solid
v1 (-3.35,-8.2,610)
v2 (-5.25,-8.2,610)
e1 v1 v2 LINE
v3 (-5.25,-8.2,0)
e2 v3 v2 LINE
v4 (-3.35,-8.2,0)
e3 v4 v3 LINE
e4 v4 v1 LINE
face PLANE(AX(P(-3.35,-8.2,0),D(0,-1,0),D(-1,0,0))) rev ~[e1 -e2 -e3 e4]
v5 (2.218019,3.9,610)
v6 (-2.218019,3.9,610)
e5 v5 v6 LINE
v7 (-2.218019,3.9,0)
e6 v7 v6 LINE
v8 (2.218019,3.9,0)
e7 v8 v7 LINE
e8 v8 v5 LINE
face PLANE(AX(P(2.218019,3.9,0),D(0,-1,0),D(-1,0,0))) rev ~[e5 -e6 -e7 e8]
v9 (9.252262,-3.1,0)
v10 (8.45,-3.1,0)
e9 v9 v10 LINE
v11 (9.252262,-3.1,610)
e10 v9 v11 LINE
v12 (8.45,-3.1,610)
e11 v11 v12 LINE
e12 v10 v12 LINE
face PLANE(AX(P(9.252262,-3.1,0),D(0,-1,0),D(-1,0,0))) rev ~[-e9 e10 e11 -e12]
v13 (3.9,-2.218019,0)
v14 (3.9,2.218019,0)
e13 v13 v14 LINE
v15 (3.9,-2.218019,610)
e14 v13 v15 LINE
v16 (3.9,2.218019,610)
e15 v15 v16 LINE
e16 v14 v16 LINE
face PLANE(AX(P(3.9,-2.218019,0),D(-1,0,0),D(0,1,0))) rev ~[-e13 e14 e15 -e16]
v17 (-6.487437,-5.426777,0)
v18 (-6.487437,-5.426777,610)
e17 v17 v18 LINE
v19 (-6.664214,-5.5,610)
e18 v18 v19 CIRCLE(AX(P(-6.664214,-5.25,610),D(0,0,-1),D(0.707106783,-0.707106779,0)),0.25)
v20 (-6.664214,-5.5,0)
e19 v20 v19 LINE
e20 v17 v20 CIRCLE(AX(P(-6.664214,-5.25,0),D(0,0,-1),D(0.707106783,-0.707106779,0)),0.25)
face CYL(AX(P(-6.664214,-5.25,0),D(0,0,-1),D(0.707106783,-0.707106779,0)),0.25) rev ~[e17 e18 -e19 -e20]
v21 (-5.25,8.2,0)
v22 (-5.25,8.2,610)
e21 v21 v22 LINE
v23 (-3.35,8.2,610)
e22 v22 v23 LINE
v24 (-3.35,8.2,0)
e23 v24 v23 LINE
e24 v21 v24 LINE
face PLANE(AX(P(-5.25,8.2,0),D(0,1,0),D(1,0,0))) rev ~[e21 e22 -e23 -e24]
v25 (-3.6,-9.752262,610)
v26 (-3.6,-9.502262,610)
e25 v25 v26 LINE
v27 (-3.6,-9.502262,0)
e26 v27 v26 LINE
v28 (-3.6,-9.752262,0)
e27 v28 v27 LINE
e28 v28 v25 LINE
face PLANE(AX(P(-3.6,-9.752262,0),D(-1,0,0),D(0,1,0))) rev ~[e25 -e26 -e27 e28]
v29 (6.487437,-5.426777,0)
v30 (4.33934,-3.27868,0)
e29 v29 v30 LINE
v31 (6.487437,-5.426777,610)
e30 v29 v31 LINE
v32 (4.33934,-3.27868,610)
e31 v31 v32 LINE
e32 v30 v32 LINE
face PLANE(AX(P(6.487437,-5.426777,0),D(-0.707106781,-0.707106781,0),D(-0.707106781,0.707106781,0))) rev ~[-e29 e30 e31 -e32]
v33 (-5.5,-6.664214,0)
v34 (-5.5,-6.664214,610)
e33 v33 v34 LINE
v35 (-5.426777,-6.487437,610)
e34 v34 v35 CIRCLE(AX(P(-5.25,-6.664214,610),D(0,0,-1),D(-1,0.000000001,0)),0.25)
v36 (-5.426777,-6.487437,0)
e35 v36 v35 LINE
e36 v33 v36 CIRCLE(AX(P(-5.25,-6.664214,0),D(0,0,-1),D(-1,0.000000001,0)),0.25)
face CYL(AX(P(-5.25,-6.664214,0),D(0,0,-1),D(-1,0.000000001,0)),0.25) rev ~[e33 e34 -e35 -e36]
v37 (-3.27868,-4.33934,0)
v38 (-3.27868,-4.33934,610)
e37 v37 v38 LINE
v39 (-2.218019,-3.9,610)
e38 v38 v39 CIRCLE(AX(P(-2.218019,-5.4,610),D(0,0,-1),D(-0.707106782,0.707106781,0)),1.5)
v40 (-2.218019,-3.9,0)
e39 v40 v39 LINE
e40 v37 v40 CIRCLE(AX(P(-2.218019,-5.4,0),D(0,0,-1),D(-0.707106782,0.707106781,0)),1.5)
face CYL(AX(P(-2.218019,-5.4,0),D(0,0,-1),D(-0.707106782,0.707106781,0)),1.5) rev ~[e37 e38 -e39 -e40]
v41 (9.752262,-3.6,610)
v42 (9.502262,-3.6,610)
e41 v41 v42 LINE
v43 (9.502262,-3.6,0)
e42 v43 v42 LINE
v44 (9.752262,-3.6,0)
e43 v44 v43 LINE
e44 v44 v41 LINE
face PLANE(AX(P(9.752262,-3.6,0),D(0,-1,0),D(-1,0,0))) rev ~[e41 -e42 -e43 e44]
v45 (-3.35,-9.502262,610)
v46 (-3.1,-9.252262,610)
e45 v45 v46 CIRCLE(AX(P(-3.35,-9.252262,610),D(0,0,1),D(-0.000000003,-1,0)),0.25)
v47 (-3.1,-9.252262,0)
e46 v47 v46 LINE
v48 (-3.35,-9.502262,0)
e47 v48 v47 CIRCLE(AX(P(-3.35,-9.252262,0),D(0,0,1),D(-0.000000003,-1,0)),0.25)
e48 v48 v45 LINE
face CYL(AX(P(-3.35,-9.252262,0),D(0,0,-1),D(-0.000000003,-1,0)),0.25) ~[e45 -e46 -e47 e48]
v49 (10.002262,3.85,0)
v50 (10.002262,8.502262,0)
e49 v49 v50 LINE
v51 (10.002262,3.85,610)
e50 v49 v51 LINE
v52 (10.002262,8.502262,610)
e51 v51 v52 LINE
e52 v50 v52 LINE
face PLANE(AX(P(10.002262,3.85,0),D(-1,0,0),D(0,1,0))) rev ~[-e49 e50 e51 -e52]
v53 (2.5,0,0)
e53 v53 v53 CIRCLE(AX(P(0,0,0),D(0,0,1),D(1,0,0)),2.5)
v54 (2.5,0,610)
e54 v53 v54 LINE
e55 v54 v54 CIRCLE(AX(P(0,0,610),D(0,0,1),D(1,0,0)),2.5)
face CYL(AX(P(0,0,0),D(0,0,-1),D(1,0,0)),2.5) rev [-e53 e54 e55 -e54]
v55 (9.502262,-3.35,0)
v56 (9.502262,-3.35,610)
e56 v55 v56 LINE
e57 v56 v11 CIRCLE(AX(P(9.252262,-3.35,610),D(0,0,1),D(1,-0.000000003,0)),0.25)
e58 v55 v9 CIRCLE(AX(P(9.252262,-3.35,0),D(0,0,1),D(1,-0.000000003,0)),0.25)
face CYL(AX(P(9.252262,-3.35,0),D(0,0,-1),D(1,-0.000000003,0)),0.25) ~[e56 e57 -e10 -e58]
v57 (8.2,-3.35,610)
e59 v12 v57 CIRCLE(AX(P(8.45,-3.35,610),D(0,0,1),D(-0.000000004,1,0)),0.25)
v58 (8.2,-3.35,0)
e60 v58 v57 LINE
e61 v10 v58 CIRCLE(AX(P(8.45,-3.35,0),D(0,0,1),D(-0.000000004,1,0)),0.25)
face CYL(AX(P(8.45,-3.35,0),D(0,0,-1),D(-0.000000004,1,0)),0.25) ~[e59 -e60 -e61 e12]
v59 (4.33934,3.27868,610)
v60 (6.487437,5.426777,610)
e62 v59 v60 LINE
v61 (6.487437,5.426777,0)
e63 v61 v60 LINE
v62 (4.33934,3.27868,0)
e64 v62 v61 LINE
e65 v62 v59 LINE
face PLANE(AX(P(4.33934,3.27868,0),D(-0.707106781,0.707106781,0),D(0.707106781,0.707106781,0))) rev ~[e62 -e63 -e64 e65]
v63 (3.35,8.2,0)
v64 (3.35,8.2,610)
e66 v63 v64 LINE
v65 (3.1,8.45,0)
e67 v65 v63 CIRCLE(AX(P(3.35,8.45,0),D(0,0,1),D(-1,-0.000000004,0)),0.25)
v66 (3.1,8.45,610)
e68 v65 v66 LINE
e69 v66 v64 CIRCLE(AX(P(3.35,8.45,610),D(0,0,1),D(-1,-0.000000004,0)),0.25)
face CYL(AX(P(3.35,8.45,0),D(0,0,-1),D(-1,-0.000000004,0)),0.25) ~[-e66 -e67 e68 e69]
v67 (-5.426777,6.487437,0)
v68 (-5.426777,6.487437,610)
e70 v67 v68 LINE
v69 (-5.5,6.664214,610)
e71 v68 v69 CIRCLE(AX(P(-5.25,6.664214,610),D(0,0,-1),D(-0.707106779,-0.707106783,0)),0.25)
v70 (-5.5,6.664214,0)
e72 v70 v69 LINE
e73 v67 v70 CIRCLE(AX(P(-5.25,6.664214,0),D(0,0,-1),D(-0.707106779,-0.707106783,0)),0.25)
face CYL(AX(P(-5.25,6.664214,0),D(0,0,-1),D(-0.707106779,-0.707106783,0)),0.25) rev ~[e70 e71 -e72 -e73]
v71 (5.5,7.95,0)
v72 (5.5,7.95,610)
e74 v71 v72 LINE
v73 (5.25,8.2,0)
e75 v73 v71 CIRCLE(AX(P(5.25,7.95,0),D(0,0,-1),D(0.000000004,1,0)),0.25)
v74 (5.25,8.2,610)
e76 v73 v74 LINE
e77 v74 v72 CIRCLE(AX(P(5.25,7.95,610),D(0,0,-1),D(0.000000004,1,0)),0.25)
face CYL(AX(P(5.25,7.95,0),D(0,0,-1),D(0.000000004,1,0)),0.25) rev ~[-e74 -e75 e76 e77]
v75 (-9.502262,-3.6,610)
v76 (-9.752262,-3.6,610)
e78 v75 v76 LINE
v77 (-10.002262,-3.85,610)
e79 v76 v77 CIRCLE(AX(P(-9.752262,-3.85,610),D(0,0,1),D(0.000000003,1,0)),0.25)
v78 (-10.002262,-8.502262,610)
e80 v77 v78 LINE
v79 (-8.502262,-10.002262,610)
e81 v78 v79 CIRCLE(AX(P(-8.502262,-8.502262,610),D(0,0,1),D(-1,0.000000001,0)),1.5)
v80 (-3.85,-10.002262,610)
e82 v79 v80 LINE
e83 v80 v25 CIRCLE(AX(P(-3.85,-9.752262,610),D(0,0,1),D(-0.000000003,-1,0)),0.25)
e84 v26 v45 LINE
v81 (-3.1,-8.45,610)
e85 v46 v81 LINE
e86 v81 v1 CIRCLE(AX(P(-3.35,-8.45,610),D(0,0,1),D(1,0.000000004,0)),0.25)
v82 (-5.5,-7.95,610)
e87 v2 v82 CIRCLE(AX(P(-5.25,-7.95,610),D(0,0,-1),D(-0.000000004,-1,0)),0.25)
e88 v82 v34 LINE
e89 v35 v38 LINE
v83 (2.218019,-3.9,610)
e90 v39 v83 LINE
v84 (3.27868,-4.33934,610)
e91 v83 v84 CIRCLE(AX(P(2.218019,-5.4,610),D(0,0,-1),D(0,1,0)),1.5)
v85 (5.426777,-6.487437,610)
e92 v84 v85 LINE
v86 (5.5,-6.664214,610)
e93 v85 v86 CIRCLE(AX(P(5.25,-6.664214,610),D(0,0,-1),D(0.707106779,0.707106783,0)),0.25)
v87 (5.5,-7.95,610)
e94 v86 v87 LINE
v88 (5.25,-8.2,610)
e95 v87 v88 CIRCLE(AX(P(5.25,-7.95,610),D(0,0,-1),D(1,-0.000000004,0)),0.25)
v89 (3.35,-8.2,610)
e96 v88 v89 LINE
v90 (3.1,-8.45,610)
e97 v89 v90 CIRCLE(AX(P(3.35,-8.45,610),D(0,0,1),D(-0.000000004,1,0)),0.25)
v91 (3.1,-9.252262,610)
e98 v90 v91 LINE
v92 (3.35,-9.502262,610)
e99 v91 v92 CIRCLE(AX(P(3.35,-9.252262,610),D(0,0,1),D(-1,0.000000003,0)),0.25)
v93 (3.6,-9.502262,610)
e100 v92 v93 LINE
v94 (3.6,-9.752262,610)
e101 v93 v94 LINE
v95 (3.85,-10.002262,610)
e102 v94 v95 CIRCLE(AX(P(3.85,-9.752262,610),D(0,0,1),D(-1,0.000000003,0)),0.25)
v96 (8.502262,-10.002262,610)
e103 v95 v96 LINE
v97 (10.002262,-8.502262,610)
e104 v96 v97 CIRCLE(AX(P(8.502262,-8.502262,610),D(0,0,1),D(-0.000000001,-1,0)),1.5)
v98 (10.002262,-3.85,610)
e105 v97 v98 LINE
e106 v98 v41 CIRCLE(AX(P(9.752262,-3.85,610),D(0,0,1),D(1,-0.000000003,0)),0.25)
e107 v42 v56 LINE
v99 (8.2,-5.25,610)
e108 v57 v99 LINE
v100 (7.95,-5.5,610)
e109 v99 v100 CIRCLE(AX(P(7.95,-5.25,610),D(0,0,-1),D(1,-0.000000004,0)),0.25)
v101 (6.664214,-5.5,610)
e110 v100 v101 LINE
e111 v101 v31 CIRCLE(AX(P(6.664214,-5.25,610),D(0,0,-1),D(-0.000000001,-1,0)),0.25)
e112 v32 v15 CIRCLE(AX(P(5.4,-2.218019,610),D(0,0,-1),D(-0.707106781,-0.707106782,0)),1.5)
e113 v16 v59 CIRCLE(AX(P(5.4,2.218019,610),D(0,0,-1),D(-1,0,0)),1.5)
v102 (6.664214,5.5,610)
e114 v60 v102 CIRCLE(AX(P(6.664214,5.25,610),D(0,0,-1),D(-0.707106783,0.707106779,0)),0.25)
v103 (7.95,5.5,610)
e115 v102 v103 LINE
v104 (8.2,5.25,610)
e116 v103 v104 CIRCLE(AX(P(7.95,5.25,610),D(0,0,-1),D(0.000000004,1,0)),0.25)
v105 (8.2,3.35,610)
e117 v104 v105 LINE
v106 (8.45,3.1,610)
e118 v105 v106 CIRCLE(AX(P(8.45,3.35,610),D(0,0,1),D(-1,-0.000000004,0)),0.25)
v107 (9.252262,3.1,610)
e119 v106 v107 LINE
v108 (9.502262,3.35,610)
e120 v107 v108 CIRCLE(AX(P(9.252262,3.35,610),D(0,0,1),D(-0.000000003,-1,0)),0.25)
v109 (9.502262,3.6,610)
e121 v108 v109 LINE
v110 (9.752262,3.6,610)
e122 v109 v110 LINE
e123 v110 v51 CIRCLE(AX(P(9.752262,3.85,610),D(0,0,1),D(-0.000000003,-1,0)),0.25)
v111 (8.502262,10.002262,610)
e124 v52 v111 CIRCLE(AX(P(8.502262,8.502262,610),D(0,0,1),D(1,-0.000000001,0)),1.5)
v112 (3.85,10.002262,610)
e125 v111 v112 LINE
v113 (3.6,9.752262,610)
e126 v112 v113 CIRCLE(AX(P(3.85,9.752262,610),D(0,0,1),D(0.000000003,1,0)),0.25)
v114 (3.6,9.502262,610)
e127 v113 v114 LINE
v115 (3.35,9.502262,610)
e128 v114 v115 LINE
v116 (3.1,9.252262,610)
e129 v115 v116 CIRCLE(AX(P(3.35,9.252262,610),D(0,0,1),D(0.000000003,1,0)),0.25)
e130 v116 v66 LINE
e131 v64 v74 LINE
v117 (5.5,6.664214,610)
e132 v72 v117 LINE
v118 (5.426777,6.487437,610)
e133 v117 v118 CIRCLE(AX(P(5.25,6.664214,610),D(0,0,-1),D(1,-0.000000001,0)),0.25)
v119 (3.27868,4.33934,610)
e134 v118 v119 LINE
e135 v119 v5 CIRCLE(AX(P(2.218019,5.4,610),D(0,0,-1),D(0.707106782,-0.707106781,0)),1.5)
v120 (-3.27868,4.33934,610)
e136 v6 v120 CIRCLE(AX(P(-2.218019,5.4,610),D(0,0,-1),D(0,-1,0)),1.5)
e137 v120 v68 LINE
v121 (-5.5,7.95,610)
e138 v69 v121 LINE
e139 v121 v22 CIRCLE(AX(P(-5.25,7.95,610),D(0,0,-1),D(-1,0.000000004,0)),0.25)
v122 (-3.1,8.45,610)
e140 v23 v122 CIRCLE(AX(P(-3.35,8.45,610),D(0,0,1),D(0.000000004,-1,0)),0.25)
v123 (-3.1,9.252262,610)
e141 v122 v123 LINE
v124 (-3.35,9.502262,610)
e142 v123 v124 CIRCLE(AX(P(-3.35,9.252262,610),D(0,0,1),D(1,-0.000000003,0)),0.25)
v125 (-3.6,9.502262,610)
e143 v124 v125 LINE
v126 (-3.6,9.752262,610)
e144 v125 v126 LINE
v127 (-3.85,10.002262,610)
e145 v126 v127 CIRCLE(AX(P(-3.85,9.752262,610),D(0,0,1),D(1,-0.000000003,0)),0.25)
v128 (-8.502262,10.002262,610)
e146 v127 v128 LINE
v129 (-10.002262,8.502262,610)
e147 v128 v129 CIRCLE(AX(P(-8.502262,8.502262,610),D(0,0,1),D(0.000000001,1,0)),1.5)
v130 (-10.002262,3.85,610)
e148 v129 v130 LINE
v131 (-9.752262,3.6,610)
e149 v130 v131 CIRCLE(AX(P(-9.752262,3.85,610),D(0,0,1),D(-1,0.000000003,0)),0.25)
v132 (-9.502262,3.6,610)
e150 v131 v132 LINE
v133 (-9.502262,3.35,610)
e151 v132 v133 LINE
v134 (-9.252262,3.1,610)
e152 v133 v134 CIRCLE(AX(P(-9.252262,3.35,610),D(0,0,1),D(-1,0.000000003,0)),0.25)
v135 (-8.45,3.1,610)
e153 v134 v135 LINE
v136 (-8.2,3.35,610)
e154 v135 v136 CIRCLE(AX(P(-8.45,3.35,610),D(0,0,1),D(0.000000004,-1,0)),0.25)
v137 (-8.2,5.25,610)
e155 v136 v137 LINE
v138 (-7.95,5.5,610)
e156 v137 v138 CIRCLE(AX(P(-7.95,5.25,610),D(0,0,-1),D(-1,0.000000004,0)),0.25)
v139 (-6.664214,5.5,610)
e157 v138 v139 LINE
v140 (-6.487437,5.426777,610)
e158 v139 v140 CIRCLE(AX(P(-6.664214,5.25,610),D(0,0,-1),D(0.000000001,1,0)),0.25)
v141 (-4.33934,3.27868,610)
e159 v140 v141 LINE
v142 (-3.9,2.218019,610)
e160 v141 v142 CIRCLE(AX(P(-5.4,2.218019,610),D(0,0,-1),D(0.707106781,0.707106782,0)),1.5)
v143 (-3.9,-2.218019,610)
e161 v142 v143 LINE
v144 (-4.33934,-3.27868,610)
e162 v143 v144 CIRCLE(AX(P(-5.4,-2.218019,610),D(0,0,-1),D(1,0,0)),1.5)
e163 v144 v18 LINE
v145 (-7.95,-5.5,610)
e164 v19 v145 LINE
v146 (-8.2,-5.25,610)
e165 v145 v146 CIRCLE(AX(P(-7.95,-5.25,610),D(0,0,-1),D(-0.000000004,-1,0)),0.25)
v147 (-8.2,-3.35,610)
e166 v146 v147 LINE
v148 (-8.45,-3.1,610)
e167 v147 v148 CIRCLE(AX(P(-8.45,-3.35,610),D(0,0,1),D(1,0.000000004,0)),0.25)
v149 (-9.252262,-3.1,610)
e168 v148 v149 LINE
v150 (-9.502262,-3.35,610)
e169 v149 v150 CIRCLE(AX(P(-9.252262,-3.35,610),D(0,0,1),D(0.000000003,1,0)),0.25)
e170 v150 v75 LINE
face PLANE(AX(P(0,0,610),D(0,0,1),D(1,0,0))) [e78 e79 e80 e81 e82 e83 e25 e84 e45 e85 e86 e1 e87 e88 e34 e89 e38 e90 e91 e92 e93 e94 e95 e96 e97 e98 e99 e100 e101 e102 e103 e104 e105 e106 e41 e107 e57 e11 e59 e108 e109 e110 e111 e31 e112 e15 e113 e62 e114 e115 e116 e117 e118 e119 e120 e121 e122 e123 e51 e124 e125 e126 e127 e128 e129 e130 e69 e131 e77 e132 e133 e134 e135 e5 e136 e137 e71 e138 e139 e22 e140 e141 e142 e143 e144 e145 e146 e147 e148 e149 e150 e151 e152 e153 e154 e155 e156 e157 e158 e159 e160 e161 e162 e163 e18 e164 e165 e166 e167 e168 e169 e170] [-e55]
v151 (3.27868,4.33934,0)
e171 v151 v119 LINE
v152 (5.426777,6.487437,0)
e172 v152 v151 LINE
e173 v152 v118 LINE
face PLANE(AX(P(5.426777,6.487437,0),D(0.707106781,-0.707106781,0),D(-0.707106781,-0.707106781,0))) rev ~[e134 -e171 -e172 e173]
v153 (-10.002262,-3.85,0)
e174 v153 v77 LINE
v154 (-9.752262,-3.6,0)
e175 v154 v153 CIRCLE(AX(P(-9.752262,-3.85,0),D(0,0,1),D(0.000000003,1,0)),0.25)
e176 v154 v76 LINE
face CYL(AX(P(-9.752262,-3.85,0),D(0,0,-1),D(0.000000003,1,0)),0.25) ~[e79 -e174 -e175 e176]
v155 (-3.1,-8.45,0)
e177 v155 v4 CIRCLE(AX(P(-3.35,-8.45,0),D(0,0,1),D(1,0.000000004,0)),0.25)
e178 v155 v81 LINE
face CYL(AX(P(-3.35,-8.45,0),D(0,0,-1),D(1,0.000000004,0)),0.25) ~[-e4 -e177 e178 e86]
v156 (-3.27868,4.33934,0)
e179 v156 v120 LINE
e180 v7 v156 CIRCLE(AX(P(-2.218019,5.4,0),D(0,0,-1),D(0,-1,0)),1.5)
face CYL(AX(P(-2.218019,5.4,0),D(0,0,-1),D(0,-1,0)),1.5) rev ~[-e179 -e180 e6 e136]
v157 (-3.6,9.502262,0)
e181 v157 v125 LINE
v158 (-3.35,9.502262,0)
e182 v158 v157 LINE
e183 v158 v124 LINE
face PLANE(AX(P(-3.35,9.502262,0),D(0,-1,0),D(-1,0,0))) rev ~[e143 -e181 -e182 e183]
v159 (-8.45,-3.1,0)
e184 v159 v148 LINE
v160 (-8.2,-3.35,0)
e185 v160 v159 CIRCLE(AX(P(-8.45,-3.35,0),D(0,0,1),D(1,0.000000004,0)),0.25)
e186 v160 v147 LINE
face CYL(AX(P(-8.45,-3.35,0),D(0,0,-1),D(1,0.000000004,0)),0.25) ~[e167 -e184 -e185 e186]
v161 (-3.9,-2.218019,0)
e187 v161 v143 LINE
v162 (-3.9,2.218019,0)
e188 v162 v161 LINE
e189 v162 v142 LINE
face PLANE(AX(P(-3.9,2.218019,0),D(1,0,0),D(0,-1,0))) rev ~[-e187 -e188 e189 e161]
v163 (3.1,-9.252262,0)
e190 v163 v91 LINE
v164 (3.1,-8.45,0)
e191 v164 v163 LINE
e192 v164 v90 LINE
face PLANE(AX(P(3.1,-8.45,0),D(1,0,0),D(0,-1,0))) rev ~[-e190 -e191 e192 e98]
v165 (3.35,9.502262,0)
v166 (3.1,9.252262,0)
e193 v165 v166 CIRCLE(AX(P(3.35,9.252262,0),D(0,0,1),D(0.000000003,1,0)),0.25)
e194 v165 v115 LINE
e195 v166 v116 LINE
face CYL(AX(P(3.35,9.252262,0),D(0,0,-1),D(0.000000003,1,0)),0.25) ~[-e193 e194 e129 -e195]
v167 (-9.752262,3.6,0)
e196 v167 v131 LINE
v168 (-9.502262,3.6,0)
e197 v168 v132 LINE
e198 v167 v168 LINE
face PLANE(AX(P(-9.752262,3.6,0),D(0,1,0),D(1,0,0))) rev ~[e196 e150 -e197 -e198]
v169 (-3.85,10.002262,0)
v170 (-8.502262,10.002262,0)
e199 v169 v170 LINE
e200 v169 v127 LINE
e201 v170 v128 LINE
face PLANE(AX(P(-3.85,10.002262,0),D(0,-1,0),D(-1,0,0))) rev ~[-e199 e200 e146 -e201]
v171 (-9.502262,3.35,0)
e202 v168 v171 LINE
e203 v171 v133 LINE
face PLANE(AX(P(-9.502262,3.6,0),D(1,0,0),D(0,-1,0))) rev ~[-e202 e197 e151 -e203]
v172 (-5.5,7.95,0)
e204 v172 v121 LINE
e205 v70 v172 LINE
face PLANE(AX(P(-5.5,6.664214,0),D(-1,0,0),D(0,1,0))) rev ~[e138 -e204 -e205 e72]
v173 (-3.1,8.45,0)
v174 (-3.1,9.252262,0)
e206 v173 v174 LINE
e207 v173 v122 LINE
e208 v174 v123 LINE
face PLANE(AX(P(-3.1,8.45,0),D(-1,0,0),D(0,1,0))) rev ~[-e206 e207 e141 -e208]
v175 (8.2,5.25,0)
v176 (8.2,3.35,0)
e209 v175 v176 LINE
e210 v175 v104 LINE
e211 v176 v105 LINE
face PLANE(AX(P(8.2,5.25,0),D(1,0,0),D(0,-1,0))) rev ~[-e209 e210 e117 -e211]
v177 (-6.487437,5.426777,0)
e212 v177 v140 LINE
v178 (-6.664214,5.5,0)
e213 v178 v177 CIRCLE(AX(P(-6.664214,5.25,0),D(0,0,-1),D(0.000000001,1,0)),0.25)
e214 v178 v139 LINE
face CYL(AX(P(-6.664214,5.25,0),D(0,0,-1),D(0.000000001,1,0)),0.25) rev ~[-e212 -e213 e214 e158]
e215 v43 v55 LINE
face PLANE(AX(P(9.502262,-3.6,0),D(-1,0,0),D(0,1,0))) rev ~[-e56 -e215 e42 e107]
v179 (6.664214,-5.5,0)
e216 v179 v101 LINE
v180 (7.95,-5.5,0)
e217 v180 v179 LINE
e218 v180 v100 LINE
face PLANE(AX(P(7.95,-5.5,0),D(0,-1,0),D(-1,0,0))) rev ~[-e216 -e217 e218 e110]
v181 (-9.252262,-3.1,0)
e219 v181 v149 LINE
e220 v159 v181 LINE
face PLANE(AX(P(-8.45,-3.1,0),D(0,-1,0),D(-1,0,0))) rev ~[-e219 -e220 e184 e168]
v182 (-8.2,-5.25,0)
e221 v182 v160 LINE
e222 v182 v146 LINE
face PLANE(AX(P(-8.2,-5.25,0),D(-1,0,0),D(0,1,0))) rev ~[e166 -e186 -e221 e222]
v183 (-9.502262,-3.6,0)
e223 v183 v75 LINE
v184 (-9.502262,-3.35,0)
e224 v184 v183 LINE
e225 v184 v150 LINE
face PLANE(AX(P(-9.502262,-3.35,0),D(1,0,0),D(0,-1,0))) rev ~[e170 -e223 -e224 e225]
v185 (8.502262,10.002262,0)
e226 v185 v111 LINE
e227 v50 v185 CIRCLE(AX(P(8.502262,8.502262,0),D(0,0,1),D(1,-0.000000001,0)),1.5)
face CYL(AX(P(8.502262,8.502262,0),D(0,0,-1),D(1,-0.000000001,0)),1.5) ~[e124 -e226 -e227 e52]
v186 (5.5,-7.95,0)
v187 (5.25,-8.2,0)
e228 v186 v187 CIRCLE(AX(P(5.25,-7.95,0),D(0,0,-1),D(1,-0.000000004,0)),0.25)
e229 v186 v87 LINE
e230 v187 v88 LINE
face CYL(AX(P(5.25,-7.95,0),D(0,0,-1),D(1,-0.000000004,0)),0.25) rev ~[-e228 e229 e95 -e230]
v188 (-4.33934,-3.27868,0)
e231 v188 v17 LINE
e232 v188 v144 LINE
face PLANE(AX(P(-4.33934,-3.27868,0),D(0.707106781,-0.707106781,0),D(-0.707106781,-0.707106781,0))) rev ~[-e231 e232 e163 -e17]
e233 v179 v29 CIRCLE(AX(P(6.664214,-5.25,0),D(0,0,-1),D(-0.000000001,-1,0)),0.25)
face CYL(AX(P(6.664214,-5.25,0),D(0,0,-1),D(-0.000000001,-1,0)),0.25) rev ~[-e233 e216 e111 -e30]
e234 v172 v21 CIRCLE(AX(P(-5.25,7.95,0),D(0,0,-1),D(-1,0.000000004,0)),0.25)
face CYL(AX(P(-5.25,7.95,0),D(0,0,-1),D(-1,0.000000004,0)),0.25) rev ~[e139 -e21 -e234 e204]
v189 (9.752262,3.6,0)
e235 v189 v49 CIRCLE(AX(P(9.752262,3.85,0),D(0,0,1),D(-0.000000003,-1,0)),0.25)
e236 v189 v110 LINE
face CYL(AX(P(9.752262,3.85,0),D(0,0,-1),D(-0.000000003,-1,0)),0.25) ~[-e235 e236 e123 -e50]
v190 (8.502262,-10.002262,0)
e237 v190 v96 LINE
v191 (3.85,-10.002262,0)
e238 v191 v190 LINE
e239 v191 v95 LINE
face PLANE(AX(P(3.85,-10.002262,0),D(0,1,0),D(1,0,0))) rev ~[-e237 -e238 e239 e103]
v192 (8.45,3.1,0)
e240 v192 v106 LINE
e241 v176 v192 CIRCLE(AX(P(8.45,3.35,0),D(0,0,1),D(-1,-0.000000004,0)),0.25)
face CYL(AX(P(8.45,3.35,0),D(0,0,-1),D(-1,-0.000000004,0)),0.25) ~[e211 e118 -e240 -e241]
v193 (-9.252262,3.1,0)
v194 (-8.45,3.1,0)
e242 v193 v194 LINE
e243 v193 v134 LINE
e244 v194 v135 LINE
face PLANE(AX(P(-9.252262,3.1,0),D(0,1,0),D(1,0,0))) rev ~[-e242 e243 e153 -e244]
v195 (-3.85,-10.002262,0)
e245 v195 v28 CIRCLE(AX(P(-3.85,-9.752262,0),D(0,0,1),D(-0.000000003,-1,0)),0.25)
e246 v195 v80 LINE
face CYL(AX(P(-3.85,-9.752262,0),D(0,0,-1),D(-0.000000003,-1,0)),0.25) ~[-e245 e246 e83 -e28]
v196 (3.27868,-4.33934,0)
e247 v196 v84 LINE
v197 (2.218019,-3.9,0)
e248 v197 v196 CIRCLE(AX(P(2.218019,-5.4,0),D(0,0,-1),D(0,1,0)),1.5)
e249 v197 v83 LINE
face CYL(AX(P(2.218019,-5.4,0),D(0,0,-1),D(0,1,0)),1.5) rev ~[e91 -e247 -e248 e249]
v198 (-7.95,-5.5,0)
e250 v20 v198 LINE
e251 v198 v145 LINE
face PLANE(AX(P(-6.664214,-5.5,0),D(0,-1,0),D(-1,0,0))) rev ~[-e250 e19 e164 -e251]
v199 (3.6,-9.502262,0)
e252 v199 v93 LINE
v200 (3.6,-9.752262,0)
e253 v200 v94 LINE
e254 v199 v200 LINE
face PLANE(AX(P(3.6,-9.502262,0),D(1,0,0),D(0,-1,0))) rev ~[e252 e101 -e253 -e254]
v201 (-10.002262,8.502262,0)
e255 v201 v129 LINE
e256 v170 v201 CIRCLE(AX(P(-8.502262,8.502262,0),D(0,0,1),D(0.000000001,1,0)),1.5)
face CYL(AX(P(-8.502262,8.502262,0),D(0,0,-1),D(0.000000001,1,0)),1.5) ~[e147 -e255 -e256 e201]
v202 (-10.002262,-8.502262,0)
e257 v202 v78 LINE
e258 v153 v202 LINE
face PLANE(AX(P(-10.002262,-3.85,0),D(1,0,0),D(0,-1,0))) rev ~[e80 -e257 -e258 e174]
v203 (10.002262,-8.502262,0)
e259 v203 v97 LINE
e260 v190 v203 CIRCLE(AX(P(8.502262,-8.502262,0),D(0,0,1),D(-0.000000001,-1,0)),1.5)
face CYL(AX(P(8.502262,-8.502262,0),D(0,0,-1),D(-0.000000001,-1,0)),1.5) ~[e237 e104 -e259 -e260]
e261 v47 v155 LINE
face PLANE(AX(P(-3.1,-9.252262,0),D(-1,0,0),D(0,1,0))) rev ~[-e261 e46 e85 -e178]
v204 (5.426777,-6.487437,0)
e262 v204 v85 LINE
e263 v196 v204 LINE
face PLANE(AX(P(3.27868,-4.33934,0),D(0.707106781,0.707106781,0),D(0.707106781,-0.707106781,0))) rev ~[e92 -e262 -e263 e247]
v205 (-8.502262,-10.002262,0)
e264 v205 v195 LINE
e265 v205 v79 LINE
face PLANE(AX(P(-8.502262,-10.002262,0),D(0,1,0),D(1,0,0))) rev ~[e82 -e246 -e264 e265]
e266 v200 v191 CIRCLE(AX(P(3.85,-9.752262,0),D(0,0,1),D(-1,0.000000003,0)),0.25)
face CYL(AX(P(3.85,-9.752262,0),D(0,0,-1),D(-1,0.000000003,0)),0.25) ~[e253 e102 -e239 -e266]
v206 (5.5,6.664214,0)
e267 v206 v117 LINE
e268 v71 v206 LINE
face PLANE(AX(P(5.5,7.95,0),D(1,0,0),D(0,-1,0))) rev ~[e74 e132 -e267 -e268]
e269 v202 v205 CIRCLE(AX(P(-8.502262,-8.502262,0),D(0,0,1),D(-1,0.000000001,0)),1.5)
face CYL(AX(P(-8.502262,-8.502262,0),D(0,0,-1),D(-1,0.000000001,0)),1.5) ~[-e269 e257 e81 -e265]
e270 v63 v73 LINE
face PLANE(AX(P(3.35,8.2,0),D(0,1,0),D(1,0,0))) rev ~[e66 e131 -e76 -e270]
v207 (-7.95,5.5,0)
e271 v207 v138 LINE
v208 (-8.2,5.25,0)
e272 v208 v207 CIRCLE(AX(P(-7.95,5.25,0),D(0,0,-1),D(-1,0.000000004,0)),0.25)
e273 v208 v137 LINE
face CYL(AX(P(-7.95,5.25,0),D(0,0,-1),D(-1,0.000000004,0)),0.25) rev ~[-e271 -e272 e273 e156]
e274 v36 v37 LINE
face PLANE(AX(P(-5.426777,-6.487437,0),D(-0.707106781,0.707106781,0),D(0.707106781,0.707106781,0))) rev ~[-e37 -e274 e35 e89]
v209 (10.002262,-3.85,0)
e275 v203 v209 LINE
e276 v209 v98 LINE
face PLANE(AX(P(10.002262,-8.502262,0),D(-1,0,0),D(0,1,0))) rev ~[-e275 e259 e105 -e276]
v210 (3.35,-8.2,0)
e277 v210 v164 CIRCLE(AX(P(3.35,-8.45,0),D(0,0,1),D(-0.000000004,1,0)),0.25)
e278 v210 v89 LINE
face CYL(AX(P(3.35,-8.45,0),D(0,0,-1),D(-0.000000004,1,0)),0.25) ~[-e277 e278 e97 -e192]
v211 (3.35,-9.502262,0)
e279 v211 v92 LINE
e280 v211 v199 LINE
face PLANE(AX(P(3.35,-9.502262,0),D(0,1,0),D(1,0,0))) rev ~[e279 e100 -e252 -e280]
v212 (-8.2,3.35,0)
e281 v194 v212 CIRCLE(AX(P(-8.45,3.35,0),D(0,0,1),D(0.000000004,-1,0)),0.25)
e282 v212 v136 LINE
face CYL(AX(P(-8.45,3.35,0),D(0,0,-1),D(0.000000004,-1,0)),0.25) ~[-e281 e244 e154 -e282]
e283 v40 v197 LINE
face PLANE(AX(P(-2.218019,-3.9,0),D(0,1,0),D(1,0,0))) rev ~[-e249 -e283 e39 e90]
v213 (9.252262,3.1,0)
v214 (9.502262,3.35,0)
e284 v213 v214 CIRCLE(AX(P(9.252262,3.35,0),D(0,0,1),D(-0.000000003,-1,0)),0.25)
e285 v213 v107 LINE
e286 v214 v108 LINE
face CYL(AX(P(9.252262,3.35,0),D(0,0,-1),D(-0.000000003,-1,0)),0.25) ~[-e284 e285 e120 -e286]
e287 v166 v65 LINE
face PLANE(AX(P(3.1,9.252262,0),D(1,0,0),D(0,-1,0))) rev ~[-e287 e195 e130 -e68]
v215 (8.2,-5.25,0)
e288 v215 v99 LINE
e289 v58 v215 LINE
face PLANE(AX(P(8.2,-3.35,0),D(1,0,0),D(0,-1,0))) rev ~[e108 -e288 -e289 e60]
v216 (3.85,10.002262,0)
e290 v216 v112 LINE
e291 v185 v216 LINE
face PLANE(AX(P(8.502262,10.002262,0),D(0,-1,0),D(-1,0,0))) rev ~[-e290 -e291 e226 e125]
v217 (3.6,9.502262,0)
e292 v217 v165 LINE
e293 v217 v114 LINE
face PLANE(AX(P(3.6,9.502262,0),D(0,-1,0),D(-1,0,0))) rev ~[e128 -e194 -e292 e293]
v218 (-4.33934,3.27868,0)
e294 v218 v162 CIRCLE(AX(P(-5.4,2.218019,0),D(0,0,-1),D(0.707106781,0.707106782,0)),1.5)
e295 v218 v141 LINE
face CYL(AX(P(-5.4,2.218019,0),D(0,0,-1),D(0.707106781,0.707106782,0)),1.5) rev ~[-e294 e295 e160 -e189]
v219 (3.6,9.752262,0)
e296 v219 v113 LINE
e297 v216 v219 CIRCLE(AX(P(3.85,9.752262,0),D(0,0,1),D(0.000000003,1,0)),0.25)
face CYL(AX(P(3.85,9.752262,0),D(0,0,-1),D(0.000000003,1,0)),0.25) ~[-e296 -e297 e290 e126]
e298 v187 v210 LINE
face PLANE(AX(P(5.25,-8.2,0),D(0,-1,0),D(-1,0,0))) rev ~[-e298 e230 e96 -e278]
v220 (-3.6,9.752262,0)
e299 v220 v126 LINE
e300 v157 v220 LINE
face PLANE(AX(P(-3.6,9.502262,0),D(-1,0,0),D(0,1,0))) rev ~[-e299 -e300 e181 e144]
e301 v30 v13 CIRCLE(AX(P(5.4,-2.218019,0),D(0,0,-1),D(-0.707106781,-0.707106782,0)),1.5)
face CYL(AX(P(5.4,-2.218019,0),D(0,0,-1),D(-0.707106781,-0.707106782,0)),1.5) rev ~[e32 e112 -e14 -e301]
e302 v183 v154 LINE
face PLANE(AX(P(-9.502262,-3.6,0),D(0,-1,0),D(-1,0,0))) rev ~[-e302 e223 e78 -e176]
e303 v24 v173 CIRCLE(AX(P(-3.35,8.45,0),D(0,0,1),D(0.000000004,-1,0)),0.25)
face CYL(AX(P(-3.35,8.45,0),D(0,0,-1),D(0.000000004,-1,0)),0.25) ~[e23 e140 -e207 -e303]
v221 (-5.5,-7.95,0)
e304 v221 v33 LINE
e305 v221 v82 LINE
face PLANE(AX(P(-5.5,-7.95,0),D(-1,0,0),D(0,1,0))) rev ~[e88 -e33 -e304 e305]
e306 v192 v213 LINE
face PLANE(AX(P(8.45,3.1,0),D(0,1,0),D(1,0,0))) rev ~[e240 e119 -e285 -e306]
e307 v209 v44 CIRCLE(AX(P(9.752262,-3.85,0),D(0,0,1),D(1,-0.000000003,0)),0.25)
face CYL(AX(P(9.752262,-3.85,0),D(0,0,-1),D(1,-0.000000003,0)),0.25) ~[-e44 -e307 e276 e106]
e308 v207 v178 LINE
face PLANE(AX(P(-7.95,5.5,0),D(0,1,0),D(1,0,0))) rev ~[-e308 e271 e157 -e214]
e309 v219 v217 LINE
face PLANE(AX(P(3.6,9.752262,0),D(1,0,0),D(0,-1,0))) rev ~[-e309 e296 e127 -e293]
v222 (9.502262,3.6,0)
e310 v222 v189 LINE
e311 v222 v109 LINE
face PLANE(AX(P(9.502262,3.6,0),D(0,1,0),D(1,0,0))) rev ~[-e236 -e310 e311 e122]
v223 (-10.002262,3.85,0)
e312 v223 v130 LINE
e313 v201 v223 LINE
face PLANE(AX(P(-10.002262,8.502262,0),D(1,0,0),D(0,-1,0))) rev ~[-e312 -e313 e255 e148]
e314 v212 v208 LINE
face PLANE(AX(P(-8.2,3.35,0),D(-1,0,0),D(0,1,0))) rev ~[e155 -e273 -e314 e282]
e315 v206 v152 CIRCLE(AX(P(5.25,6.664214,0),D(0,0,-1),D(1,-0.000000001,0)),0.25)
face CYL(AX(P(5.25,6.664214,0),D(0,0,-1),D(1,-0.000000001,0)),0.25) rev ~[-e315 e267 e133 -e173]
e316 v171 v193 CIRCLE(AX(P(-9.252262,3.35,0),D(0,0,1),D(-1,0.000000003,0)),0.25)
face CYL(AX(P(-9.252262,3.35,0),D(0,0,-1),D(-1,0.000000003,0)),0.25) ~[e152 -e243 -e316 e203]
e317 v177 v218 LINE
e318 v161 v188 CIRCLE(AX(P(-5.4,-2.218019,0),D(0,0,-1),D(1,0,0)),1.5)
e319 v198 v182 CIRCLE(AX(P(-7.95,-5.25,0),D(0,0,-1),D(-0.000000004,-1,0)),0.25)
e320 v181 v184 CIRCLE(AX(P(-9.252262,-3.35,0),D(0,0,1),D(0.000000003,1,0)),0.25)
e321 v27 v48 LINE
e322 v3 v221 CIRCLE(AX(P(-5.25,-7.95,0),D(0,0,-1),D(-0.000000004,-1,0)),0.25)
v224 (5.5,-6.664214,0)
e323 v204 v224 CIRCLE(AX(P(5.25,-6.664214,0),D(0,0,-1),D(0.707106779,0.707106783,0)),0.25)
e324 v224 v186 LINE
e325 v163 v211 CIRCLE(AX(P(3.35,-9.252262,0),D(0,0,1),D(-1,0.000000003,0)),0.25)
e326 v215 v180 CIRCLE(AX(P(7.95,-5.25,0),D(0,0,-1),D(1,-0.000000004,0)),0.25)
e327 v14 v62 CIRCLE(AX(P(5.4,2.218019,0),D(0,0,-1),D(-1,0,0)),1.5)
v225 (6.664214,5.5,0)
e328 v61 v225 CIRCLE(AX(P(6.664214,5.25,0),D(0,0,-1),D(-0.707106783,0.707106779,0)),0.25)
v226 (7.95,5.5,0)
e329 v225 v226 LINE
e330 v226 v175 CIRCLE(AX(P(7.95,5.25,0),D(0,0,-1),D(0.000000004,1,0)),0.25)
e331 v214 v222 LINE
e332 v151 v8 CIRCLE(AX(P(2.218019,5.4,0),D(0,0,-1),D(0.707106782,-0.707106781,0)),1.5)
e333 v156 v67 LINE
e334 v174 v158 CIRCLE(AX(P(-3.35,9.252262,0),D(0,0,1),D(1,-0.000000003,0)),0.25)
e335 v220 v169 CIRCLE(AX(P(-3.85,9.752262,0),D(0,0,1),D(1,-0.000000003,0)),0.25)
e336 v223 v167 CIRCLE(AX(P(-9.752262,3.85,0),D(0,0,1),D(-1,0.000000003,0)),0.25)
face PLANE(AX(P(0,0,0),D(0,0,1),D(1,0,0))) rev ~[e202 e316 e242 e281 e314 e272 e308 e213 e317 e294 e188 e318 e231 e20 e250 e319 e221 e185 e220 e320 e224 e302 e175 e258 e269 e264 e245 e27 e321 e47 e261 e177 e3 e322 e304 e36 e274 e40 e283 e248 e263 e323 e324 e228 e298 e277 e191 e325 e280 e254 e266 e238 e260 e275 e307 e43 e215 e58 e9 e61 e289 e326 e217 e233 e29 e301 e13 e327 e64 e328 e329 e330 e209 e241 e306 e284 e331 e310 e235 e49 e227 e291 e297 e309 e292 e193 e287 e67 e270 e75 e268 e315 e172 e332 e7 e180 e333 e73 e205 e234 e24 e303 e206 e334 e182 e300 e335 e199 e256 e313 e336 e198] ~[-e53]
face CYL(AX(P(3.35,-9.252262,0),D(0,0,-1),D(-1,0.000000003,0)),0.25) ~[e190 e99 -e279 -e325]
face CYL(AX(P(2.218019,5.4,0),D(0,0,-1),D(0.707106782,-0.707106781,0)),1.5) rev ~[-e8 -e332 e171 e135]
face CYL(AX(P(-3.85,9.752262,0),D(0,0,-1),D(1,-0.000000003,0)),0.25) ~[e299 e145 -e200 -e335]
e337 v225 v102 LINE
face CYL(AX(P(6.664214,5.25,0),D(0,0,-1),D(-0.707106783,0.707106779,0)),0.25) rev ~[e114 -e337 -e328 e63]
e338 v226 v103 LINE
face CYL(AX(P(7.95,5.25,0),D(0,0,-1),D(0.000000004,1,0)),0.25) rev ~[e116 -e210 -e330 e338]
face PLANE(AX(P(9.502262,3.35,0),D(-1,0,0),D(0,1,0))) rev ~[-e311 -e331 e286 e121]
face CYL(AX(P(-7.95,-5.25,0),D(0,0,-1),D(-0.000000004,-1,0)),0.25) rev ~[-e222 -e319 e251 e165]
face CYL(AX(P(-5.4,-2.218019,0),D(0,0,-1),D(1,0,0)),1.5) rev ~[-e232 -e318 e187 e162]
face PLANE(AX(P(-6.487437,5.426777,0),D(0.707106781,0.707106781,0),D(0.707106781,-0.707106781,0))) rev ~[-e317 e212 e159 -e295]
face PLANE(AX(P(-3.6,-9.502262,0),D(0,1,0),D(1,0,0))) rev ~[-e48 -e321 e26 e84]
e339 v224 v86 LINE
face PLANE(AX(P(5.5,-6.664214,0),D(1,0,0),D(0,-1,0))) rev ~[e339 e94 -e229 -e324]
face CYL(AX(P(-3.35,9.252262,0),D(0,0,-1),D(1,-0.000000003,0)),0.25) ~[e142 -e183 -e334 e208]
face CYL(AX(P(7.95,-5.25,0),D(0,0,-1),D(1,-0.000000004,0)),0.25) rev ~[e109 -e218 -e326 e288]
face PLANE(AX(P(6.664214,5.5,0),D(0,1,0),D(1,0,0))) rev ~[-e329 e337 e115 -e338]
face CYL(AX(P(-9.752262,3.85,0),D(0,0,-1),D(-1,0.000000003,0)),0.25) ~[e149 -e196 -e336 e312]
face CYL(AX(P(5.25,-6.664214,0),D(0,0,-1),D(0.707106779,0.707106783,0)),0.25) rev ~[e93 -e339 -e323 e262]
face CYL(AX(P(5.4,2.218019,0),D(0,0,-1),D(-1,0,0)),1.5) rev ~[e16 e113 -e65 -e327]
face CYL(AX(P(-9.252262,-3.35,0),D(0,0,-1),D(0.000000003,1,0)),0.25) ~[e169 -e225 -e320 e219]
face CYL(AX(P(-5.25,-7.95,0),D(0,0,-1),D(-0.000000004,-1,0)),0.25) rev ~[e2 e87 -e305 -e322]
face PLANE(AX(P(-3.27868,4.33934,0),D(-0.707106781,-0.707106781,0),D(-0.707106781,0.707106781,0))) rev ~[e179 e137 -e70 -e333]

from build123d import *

# Parameters (mm, degrees)
SKETCH_1_R      = 2.5
EXTRUDE_1_DEPTH = 610


with BuildPart() as part:
    # 草图1 → 凸台-拉伸1 (new body)
    with BuildSketch(Plane.XY):
        with BuildLine():
            Line((-8.502261885, -10.002261885), (-3.85, -10.002261885))
            ThreePointArc((-3.85, -10.002261885), (-3.673223305, -9.929038581), (-3.6, -9.752261885))
            Line((-3.6, -9.752261885), (-3.6, -9.502261885))
            Line((-3.6, -9.502261885), (-3.35, -9.502261885))
            ThreePointArc((-3.35, -9.502261885), (-3.173223305, -9.429038581), (-3.1, -9.252261885))
            Line((-3.1, -9.252261885), (-3.1, -8.45))
            ThreePointArc((-3.1, -8.45), (-3.173223305, -8.273223305), (-3.35, -8.2))
            Line((-3.35, -8.2), (-5.25, -8.2))
            ThreePointArc((-5.25, -8.2), (-5.426776695, -8.126776695), (-5.5, -7.95))
            Line((-5.5, -7.95), (-5.5, -6.664213562))
            ThreePointArc((-5.5, -6.664213562), (-5.480969883, -6.568542704), (-5.426776695, -6.487436867))
            Line((-5.426776695, -6.487436867), (-3.278679656, -4.339339828))
            ThreePointArc((-3.278679656, -4.339339828), (-2.792044633, -4.014180701), (-2.218019485, -3.9))
            Line((-2.218019485, -3.9), (2.218019485, -3.9))
            ThreePointArc((2.218019485, -3.9), (2.792044633, -4.014180701), (3.278679656, -4.339339828))
            Line((3.278679656, -4.339339828), (5.426776695, -6.487436867))
            ThreePointArc((5.426776695, -6.487436867), (5.480969883, -6.568542704), (5.5, -6.664213562))
            Line((5.5, -6.664213562), (5.5, -7.95))
            ThreePointArc((5.5, -7.95), (5.426776695, -8.126776695), (5.25, -8.2))
            Line((5.25, -8.2), (3.35, -8.2))
            ThreePointArc((3.35, -8.2), (3.173223305, -8.273223305), (3.1, -8.45))
            Line((3.1, -8.45), (3.1, -9.252261885))
            ThreePointArc((3.1, -9.252261885), (3.173223305, -9.429038581), (3.35, -9.502261885))
            Line((3.35, -9.502261885), (3.6, -9.502261885))
            Line((3.6, -9.502261885), (3.6, -9.752261885))
            ThreePointArc((3.6, -9.752261885), (3.673223305, -9.929038581), (3.85, -10.002261885))
            Line((3.85, -10.002261885), (8.502261885, -10.002261885))
            ThreePointArc((8.502261885, -10.002261885), (9.562922057, -9.562922057), (10.002261885, -8.502261885))
            Line((10.002261885, -8.502261885), (10.002261885, -3.85))
            ThreePointArc((10.002261885, -3.85), (9.929038581, -3.673223305), (9.752261885, -3.6))
            Line((9.752261885, -3.6), (9.502261885, -3.6))
            Line((9.502261885, -3.6), (9.502261885, -3.35))
            ThreePointArc((9.502261885, -3.35), (9.429038581, -3.173223305), (9.252261885, -3.1))
            Line((9.252261885, -3.1), (8.45, -3.1))
            ThreePointArc((8.45, -3.1), (8.273223305, -3.173223305), (8.2, -3.35))
            Line((8.2, -3.35), (8.2, -5.25))
            ThreePointArc((8.2, -5.25), (8.126776695, -5.426776695), (7.95, -5.5))
            Line((7.95, -5.5), (6.664213562, -5.5))
            ThreePointArc((6.664213562, -5.5), (6.568542704, -5.480969883), (6.487436867, -5.426776695))
            Line((6.487436867, -5.426776695), (4.339339828, -3.278679656))
            ThreePointArc((4.339339828, -3.278679656), (4.014180701, -2.792044633), (3.9, -2.218019485))
            Line((3.9, -2.218019485), (3.9, 2.218019485))
            ThreePointArc((3.9, 2.218019485), (4.014180701, 2.792044633), (4.339339828, 3.278679656))
            Line((4.339339828, 3.278679656), (6.487436867, 5.426776695))
            ThreePointArc((6.487436867, 5.426776695), (6.568542704, 5.480969883), (6.664213562, 5.5))
            Line((6.664213562, 5.5), (7.95, 5.5))
            ThreePointArc((7.95, 5.5), (8.126776695, 5.426776695), (8.2, 5.25))
            Line((8.2, 5.25), (8.2, 3.35))
            ThreePointArc((8.2, 3.35), (8.273223305, 3.173223305), (8.45, 3.1))
            Line((8.45, 3.1), (9.252261885, 3.1))
            ThreePointArc((9.252261885, 3.1), (9.429038581, 3.173223305), (9.502261885, 3.35))
            Line((9.502261885, 3.35), (9.502261885, 3.6))
            Line((9.502261885, 3.6), (9.752261885, 3.6))
            ThreePointArc((9.752261885, 3.6), (9.929038581, 3.673223305), (10.002261885, 3.85))
            Line((10.002261885, 3.85), (10.002261885, 8.502261885))
            ThreePointArc((10.002261885, 8.502261885), (9.562922057, 9.562922057), (8.502261885, 10.002261885))
            Line((8.502261885, 10.002261885), (3.85, 10.002261885))
            ThreePointArc((3.85, 10.002261885), (3.673223305, 9.929038581), (3.6, 9.752261885))
            Line((3.6, 9.752261885), (3.6, 9.502261885))
            Line((3.6, 9.502261885), (3.35, 9.502261885))
            ThreePointArc((3.35, 9.502261885), (3.173223305, 9.429038581), (3.1, 9.252261885))
            Line((3.1, 9.252261885), (3.1, 8.45))
            ThreePointArc((3.1, 8.45), (3.173223305, 8.273223305), (3.35, 8.2))
            Line((3.35, 8.2), (5.25, 8.2))
            ThreePointArc((5.25, 8.2), (5.426776695, 8.126776695), (5.5, 7.95))
            Line((5.5, 7.95), (5.5, 6.664213562))
            ThreePointArc((5.5, 6.664213562), (5.480969883, 6.568542704), (5.426776695, 6.487436867))
            Line((5.426776695, 6.487436867), (3.278679656, 4.339339828))
            ThreePointArc((3.278679656, 4.339339828), (2.792044633, 4.014180701), (2.218019485, 3.9))
            Line((2.218019485, 3.9), (-2.218019485, 3.9))
            ThreePointArc((-2.218019485, 3.9), (-2.792044633, 4.014180701), (-3.278679656, 4.339339828))
            Line((-3.278679656, 4.339339828), (-5.426776695, 6.487436867))
            ThreePointArc((-5.426776695, 6.487436867), (-5.480969883, 6.568542704), (-5.5, 6.664213562))
            Line((-5.5, 6.664213562), (-5.5, 7.95))
            ThreePointArc((-5.5, 7.95), (-5.426776695, 8.126776695), (-5.25, 8.2))
            Line((-5.25, 8.2), (-3.35, 8.2))
            ThreePointArc((-3.35, 8.2), (-3.173223305, 8.273223305), (-3.1, 8.45))
            Line((-3.1, 8.45), (-3.1, 9.252261885))
            ThreePointArc((-3.1, 9.252261885), (-3.173223305, 9.429038581), (-3.35, 9.502261885))
            Line((-3.35, 9.502261885), (-3.6, 9.502261885))
            Line((-3.6, 9.502261885), (-3.6, 9.752261885))
            ThreePointArc((-3.6, 9.752261885), (-3.673223305, 9.929038581), (-3.85, 10.002261885))
            Line((-3.85, 10.002261885), (-8.502261885, 10.002261885))
            ThreePointArc((-8.502261885, 10.002261885), (-9.562922057, 9.562922057), (-10.002261885, 8.502261885))
            Line((-10.002261885, 8.502261885), (-10.002261885, 3.85))
            ThreePointArc((-10.002261885, 3.85), (-9.929038581, 3.673223305), (-9.752261885, 3.6))
            Line((-9.752261885, 3.6), (-9.502261885, 3.6))
            Line((-9.502261885, 3.6), (-9.502261885, 3.35))
            ThreePointArc((-9.502261885, 3.35), (-9.429038581, 3.173223305), (-9.252261885, 3.1))
            Line((-9.252261885, 3.1), (-8.45, 3.1))
            ThreePointArc((-8.45, 3.1), (-8.273223305, 3.173223305), (-8.2, 3.35))
            Line((-8.2, 3.35), (-8.2, 5.25))
            ThreePointArc((-8.2, 5.25), (-8.126776695, 5.426776695), (-7.95, 5.5))
            Line((-7.95, 5.5), (-6.664213562, 5.5))
            ThreePointArc((-6.664213562, 5.5), (-6.568542704, 5.480969883), (-6.487436867, 5.426776695))
            Line((-6.487436867, 5.426776695), (-4.339339828, 3.278679656))
            ThreePointArc((-4.339339828, 3.278679656), (-4.014180701, 2.792044633), (-3.9, 2.218019485))
            Line((-3.9, 2.218019485), (-3.9, -2.218019485))
            ThreePointArc((-3.9, -2.218019485), (-4.014180701, -2.792044633), (-4.339339828, -3.278679656))
            Line((-4.339339828, -3.278679656), (-6.487436867, -5.426776695))
            ThreePointArc((-6.487436867, -5.426776695), (-6.568542704, -5.480969883), (-6.664213562, -5.5))
            Line((-6.664213562, -5.5), (-7.95, -5.5))
            ThreePointArc((-7.95, -5.5), (-8.126776695, -5.426776695), (-8.2, -5.25))
            Line((-8.2, -5.25), (-8.2, -3.35))
            ThreePointArc((-8.2, -3.35), (-8.273223305, -3.173223305), (-8.45, -3.1))
            Line((-8.45, -3.1), (-9.252261885, -3.1))
            ThreePointArc((-9.252261885, -3.1), (-9.429038581, -3.173223305), (-9.502261885, -3.35))
            Line((-9.502261885, -3.35), (-9.502261885, -3.6))
            Line((-9.502261885, -3.6), (-9.752261885, -3.6))
            ThreePointArc((-9.752261885, -3.6), (-9.929038581, -3.673223305), (-10.002261885, -3.85))
            Line((-10.002261885, -3.85), (-10.002261885, -8.502261885))
            ThreePointArc((-10.002261885, -8.502261885), (-9.562922057, -9.562922057), (-8.502261885, -10.002261885))
        make_face()
        Circle(SKETCH_1_R, mode=Mode.SUBTRACT)
    extrude(amount=EXTRUDE_1_DEPTH)


solid = part.part
